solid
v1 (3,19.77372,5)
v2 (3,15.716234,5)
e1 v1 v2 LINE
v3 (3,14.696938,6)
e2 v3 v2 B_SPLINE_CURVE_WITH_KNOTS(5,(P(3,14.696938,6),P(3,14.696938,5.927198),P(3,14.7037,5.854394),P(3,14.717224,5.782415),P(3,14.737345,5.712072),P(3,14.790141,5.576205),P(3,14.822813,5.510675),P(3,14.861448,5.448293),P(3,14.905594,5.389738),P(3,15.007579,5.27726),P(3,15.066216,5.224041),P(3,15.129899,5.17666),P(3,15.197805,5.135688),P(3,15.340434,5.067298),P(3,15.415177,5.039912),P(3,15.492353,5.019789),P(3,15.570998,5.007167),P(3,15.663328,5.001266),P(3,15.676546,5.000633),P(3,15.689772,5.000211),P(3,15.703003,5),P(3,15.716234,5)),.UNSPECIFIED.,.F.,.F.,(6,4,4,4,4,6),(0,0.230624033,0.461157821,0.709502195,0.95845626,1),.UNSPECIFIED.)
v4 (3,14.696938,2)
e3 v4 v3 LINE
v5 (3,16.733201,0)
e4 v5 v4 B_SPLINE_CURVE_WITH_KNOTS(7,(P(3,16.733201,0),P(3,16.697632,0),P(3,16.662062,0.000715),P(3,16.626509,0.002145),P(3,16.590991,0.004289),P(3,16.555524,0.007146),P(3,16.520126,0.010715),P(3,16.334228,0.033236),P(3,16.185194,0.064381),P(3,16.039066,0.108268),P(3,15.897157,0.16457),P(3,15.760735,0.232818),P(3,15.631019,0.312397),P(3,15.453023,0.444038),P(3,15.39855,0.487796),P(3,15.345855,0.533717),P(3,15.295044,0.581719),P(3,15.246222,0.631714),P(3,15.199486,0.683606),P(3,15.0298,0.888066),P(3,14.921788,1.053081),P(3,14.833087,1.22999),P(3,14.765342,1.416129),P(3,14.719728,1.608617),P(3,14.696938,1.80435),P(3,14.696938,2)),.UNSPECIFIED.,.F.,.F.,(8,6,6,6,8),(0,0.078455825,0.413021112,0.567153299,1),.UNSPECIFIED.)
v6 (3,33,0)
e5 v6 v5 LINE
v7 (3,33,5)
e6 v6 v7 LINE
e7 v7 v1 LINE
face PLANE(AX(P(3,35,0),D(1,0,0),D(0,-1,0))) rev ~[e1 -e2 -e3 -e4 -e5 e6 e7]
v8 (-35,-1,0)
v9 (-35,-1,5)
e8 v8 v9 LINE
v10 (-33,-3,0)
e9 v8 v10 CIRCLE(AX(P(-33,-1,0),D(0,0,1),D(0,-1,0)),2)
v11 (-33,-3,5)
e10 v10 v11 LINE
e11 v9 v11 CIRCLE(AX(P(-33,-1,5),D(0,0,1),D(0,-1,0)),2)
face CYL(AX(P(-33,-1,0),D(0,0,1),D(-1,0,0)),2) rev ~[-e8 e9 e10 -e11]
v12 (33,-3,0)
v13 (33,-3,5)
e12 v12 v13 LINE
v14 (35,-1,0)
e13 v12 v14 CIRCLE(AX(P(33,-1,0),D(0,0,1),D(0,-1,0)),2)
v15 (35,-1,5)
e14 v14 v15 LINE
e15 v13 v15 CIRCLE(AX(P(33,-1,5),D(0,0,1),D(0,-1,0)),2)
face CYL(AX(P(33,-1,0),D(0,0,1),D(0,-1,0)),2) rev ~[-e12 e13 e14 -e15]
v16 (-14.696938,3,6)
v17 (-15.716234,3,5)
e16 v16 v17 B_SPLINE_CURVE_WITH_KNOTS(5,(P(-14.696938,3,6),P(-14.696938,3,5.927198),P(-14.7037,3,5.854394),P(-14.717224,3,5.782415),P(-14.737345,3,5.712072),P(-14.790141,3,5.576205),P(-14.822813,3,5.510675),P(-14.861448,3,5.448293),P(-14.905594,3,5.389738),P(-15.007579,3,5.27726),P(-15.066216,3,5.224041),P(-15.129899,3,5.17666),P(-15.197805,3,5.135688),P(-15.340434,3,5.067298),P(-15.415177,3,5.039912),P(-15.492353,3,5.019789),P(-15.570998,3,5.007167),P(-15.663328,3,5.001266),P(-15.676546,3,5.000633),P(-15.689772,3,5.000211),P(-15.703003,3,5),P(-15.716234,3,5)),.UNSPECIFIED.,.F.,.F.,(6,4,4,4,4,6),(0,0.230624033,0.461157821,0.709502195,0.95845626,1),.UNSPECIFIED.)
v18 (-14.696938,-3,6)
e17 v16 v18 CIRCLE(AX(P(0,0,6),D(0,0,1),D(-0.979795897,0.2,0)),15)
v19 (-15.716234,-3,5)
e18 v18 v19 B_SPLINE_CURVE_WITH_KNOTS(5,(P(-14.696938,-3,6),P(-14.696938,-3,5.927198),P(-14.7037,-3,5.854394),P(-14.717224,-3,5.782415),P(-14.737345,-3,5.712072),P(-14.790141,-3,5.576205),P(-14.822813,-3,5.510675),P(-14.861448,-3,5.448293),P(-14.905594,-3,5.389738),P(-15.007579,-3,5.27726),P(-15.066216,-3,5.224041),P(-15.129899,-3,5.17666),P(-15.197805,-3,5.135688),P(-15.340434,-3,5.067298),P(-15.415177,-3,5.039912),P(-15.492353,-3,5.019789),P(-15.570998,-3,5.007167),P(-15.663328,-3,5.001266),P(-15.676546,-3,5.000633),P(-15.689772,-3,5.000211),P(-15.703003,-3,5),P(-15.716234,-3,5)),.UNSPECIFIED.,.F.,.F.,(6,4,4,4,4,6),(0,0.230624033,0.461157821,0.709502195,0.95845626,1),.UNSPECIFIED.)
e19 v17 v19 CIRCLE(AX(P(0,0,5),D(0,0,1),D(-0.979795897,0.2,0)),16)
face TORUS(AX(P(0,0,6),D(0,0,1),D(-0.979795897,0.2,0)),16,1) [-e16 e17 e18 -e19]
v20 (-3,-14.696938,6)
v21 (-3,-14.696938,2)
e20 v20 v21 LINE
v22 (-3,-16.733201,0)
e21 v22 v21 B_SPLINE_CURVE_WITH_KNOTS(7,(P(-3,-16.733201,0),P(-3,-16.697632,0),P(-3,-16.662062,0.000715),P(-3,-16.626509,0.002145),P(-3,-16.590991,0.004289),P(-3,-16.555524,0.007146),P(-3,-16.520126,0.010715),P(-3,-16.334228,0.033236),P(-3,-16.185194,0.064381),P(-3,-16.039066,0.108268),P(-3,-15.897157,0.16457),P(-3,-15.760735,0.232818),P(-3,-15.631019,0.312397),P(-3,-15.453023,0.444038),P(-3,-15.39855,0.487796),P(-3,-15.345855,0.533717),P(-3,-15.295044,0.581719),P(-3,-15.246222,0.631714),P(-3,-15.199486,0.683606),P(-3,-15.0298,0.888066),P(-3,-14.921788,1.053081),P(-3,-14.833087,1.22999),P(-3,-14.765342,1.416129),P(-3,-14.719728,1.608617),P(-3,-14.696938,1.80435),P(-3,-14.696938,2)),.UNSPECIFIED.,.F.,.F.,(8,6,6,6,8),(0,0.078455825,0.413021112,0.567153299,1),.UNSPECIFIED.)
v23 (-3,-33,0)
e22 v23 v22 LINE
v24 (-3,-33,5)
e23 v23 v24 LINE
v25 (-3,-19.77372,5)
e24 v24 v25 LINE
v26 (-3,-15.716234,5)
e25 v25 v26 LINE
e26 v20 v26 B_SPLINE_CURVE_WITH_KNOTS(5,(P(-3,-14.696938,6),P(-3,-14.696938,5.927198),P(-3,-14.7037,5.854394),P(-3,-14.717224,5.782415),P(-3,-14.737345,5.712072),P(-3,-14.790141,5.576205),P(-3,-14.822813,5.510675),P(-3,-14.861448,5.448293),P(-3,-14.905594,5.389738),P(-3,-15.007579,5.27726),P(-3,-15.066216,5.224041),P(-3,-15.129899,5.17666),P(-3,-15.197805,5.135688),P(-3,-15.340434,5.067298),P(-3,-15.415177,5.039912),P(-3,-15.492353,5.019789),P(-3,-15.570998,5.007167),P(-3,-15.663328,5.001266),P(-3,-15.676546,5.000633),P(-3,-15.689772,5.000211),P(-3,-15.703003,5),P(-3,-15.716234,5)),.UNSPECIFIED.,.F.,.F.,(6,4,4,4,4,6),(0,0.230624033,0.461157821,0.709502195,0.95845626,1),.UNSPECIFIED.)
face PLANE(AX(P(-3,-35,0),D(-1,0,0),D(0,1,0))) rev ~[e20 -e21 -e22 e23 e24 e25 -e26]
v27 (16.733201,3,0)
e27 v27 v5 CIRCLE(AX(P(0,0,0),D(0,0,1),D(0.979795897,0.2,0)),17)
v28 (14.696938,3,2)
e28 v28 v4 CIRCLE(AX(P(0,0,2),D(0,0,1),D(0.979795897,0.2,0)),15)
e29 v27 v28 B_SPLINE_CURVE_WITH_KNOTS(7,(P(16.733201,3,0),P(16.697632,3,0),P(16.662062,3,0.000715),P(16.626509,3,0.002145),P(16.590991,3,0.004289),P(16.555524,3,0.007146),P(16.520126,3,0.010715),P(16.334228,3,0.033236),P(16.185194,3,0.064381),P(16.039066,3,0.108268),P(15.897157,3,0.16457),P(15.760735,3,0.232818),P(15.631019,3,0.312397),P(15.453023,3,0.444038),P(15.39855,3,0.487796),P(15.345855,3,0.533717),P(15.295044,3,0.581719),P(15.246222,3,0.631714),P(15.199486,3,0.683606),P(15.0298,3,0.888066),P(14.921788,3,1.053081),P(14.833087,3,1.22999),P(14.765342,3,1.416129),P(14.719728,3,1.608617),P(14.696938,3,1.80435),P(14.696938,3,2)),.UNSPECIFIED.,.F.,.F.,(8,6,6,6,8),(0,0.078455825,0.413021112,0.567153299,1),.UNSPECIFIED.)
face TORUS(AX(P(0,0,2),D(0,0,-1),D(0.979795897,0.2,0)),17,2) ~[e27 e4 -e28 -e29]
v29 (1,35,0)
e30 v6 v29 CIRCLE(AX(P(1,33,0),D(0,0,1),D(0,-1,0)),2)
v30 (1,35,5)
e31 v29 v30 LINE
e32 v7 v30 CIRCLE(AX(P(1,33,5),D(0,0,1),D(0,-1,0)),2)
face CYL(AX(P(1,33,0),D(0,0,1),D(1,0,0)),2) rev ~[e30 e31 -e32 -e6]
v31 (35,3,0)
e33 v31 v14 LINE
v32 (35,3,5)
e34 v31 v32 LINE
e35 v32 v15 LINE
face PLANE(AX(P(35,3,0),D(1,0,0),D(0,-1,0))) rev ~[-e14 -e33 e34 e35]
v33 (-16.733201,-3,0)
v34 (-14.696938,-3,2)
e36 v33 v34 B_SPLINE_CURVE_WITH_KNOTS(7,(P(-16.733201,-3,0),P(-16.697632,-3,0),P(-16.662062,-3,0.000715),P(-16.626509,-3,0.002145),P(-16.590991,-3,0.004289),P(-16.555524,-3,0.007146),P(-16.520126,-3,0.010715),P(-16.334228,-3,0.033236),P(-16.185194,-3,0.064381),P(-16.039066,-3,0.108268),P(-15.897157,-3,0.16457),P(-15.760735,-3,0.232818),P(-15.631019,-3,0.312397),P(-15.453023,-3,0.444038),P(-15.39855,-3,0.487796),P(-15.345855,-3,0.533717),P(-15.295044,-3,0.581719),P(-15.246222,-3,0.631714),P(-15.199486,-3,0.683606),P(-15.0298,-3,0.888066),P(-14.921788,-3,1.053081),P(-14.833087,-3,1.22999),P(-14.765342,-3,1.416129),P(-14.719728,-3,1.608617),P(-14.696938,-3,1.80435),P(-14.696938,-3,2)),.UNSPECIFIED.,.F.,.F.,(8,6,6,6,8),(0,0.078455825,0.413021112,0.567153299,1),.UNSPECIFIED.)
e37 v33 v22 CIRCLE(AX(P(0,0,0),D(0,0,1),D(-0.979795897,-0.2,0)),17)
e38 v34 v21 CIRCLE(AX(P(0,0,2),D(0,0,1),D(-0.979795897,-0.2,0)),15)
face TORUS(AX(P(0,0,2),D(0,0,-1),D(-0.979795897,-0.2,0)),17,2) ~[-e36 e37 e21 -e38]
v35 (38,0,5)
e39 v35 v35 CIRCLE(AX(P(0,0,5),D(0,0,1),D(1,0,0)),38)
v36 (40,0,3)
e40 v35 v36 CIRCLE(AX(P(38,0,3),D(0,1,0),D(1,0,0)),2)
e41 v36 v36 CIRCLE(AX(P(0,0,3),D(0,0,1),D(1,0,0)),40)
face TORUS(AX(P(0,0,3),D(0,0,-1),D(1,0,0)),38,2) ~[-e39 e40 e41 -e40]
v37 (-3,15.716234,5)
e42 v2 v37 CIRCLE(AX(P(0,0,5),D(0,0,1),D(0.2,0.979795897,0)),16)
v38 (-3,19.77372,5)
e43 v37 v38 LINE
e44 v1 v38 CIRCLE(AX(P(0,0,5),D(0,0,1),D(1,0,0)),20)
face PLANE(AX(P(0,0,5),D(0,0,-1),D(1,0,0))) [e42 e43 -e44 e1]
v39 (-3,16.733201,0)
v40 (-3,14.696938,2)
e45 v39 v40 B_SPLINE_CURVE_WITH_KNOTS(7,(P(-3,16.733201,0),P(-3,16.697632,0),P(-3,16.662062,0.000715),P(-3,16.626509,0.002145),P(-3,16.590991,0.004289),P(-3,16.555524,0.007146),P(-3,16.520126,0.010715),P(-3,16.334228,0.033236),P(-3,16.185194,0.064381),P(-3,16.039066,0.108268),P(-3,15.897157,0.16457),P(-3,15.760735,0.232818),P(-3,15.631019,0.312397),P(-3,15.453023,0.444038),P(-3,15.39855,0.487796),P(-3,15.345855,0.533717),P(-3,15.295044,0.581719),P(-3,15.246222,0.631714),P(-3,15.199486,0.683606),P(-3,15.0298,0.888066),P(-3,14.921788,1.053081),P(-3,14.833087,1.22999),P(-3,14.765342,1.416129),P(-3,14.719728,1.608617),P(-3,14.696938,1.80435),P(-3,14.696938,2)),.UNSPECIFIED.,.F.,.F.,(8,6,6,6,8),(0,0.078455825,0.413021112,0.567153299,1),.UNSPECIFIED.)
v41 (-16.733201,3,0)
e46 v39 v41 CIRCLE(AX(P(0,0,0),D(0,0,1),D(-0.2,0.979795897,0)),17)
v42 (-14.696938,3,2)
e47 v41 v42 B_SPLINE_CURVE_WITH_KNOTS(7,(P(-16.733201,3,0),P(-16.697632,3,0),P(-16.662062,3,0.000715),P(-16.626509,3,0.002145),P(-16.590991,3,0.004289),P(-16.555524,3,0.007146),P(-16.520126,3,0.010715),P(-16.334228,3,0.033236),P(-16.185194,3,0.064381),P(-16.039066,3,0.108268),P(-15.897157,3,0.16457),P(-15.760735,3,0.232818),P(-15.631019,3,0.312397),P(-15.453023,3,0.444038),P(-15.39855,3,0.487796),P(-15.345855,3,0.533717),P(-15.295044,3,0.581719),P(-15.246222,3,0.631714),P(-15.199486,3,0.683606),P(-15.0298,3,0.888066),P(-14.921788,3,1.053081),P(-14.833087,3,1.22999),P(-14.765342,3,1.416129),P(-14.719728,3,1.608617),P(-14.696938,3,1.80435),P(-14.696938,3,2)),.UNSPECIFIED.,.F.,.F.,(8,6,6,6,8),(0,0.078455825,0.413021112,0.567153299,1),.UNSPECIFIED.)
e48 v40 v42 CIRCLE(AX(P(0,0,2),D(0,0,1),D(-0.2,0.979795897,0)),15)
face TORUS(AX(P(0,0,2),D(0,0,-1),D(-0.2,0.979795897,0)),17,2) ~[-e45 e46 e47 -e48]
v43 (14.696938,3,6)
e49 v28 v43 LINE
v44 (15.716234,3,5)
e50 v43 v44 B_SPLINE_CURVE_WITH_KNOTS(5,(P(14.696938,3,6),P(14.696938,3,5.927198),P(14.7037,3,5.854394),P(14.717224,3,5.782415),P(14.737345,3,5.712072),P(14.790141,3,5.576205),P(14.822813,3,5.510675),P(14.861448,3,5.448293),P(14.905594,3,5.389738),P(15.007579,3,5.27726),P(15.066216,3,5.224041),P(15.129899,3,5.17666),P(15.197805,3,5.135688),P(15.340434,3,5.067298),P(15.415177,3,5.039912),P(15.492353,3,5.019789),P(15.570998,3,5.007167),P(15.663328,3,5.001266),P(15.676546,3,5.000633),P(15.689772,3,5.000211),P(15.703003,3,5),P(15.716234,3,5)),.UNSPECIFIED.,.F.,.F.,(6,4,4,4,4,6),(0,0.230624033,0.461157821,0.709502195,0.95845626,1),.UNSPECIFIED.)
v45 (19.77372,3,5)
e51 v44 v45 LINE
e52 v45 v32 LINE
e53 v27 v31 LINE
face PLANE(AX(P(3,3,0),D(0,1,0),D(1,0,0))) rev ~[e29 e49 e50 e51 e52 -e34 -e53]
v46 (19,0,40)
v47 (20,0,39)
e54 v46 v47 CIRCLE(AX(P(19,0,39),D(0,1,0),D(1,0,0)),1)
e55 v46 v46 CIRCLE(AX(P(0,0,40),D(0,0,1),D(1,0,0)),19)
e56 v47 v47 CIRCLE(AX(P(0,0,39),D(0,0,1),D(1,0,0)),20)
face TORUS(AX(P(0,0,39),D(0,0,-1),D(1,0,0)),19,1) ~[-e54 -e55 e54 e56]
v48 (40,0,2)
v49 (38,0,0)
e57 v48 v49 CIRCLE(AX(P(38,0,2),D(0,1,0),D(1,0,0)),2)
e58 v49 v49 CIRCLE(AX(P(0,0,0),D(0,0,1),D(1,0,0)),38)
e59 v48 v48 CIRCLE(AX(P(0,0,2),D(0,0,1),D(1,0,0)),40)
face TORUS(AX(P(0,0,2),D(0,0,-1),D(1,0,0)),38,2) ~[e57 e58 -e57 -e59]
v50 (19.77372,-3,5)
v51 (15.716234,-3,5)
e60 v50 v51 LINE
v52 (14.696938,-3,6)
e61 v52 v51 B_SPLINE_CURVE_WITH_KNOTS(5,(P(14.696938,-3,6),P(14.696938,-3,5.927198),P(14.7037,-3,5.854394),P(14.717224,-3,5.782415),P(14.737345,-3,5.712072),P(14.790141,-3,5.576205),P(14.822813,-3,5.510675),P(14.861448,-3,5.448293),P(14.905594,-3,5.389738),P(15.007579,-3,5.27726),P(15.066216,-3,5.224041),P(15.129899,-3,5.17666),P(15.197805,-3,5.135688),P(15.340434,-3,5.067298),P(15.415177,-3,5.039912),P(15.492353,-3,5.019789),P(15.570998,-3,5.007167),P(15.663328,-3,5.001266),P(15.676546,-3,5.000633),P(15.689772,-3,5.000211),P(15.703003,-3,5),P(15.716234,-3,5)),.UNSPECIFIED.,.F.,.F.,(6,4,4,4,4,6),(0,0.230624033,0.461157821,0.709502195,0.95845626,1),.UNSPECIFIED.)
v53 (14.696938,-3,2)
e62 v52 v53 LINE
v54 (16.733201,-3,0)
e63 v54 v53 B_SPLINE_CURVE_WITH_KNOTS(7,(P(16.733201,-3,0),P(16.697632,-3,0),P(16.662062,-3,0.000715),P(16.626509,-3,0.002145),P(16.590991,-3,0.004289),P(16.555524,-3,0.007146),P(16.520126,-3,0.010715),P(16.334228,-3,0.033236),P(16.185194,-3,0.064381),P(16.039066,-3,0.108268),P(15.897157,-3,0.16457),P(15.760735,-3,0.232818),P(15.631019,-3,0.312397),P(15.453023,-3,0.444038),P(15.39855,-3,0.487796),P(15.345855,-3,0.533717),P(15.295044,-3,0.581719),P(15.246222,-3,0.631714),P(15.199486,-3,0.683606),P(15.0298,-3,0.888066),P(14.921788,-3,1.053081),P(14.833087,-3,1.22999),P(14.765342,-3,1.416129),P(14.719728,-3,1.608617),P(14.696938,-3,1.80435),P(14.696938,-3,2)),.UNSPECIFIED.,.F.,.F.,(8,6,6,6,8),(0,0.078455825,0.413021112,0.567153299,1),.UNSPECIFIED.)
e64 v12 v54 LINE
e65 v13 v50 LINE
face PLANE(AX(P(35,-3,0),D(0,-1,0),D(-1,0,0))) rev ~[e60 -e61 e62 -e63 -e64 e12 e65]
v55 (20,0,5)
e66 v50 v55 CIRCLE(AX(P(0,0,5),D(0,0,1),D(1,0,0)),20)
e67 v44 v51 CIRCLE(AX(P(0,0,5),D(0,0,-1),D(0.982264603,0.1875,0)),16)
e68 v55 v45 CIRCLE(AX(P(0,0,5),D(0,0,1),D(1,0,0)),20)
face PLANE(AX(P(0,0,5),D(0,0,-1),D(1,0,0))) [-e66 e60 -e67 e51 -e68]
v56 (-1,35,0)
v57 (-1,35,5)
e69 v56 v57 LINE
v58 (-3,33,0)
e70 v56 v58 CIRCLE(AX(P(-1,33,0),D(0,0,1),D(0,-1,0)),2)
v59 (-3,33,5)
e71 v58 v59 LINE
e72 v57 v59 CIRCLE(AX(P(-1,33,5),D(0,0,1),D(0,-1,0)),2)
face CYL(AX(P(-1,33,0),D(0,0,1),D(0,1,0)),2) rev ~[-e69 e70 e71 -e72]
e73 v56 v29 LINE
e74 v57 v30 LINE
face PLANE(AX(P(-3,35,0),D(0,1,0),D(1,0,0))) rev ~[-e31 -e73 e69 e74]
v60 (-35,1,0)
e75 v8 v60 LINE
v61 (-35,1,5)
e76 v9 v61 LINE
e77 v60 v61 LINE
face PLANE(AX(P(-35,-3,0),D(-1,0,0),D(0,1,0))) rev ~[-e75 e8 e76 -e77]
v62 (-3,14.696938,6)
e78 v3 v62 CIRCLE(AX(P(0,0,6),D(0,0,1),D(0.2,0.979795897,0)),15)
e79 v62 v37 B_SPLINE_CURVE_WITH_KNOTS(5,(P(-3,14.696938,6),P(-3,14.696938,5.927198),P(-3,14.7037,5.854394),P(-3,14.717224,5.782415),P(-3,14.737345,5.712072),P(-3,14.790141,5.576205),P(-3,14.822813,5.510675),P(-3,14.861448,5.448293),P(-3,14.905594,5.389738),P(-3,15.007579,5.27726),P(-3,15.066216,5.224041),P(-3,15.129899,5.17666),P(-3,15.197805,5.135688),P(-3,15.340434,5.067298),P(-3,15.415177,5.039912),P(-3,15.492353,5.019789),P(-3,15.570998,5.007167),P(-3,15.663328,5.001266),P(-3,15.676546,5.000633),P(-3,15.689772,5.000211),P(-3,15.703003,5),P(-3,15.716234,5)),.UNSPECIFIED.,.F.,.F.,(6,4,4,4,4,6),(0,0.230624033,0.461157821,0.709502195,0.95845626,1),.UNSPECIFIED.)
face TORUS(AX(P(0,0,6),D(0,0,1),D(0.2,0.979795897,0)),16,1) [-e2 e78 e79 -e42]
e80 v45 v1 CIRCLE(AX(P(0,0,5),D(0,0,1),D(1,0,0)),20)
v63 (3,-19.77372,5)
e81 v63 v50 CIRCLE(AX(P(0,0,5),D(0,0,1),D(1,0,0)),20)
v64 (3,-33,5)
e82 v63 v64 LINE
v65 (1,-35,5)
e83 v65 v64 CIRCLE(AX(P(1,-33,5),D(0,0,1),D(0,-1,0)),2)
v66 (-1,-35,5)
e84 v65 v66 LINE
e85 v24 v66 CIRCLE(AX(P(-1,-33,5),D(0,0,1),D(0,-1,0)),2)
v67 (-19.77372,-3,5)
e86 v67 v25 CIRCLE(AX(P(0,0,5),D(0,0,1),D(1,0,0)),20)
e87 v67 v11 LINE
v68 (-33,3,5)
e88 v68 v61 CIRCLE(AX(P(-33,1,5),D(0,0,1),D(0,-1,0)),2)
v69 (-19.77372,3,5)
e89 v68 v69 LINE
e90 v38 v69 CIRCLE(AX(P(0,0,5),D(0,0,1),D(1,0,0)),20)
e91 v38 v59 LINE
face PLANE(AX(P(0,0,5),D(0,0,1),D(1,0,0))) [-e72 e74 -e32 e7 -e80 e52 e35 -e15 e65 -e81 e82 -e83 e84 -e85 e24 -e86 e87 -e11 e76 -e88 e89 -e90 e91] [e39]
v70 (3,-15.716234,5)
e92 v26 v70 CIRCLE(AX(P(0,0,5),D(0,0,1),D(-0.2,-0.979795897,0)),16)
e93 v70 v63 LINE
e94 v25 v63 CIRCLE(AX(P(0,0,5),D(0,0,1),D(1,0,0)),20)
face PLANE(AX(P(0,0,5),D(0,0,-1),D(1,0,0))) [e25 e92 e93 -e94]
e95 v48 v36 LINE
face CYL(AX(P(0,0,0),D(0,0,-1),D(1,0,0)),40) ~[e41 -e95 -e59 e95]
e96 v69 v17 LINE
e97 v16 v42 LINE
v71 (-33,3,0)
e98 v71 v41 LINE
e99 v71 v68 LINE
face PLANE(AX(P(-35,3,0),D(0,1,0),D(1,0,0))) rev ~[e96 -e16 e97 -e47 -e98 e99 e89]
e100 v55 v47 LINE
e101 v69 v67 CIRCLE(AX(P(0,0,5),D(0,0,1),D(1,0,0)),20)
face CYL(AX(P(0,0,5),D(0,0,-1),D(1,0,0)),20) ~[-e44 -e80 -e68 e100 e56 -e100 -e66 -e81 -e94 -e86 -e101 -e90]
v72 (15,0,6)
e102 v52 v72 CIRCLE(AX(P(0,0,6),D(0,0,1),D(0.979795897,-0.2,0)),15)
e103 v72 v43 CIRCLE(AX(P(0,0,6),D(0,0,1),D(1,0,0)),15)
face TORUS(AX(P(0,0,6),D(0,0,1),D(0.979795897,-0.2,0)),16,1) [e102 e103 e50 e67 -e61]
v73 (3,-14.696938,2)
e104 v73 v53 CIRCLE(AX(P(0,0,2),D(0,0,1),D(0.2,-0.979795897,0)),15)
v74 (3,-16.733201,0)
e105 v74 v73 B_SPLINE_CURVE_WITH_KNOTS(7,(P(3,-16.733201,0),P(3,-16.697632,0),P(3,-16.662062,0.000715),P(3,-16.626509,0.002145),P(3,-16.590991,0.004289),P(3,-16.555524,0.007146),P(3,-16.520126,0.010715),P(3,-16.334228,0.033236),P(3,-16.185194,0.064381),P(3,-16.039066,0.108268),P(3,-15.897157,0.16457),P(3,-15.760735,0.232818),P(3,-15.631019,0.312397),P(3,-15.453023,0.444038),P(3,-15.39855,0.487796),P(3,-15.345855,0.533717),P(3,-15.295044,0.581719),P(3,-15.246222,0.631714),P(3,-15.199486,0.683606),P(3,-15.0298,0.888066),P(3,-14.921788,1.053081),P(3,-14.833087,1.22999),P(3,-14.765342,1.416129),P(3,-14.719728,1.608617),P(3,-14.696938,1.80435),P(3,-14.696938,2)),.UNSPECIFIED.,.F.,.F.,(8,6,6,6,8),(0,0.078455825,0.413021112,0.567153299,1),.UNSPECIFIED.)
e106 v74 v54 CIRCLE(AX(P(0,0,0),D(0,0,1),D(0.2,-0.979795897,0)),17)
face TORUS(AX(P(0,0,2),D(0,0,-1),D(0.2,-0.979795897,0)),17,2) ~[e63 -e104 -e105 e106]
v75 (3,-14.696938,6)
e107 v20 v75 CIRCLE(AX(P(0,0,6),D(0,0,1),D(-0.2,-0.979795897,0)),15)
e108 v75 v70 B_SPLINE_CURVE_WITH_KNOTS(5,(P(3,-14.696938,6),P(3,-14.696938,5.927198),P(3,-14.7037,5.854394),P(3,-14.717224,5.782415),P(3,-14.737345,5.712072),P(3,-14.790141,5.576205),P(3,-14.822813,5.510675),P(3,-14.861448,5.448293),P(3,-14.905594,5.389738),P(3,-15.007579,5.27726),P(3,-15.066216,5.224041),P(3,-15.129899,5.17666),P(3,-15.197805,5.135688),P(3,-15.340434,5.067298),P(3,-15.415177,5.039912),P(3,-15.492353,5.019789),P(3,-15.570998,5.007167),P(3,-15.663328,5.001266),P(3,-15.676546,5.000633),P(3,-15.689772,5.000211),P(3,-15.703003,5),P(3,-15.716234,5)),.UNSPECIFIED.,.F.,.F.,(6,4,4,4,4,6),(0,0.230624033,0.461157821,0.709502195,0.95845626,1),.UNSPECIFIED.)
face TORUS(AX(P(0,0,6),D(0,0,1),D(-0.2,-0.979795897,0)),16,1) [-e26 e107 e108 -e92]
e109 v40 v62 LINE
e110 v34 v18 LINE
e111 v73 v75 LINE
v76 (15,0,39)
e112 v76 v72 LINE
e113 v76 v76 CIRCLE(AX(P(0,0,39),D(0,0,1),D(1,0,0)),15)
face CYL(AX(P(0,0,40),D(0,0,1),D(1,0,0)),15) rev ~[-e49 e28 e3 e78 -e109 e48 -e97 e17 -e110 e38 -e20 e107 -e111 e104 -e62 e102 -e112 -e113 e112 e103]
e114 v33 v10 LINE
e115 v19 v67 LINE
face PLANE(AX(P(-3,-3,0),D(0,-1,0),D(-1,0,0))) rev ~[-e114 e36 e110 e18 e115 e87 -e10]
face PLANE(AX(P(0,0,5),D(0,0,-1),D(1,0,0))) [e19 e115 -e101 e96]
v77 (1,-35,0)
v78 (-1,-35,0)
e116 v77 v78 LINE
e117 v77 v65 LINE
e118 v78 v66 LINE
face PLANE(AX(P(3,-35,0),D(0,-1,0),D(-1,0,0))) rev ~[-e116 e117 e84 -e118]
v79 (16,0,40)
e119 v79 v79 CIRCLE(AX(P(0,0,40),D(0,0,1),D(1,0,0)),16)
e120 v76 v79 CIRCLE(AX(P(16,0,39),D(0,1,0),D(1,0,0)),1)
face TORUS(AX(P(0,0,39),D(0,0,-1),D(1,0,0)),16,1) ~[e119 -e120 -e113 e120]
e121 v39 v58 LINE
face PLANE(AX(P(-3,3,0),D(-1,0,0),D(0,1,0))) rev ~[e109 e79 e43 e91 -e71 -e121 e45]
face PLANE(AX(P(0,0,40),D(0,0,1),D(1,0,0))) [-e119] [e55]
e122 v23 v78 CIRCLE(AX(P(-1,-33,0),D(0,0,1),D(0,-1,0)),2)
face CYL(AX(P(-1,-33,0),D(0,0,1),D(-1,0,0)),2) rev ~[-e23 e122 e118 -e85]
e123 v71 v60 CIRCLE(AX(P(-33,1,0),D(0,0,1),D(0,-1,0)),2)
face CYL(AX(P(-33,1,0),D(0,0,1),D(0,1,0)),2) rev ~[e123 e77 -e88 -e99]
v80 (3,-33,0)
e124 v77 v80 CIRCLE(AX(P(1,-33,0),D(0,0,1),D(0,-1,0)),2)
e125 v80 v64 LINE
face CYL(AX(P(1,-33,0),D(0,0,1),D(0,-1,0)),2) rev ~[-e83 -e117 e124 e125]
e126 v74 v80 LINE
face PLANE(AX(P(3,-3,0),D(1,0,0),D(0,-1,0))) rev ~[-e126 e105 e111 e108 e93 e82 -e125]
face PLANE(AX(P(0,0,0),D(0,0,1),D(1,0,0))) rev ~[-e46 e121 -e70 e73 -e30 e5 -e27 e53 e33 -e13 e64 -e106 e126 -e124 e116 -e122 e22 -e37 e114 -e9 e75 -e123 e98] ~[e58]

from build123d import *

# Parameters (mm, degrees)
SKETCH_R        = 40
PAD_DEPTH       = 5
SKETCH001_R     = 20
PAD001_DEPTH    = 35
SKETCH002_R     = 15
POCKET_DEPTH    = 40.001
POCKET001_DEPTH = 5
FILLET_R        = 2
FILLET001_R     = 2
FILLET002_R     = 1
FILLET003_R     = 2


with BuildPart() as part:
    # Sketch → Pad (new body)
    with BuildSketch(Plane.XY):
        Circle(SKETCH_R)
    extrude(amount=PAD_DEPTH)

    # Sketch001 (on Face3 of Pad) → Pad001 (join)
    with BuildSketch(Plane.XY.offset(5)):
        Circle(SKETCH001_R)
    extrude(amount=PAD001_DEPTH)

    # Sketch002 (on Face5 of Pad001) → Pocket (cut, through all)
    with BuildSketch(Plane.XY.offset(40)):
        Circle(SKETCH002_R)
    extrude(amount=-POCKET_DEPTH, mode=Mode.SUBTRACT)

    # Sketch003 (on Face2 of Pocket) → Pocket001 (cut)
    with BuildSketch(Plane(origin=(0, 0, 0), x_dir=(1, 0, 0), z_dir=(0, 0, -1))):
        Polygon((-3, 35), (-3, 3), (-35, 3), (-35, -3), (-3, -3), (-3, -35), (3, -35), (3, -3), (35, -3), (35, 3), (3, 3), (3, 35), align=None)
    extrude(amount=-POCKET001_DEPTH, mode=Mode.SUBTRACT)

    # Fillet
    fillet_edges = [part.edges().sort_by_distance(p)[0] for p in [
        (-3, -35, 2.5),
        (3, -35, 2.5),
        (35, -3, 2.5),
        (-35, -3, 2.5),
        (-35, 3, 2.5),
        (-3, 35, 2.5),
        (3, 35, 2.5),
    ]]
    fillet(fillet_edges, radius=FILLET_R)

    # Fillet001
    fillet001_edges = [part.edges().sort_by_distance(p)[0] for p in [
        (10.606602, -10.606602, 0),
        (10.606602, 10.606602, 0),
        (-10.606602, 10.606602, 0),
        (-10.606602, -10.606602, 0),
    ]]
    fillet(fillet001_edges, radius=FILLET001_R)

    # Fillet002
    fillet002_edges = [part.edges().sort_by_distance(p)[0] for p in [
        (-20, 0, 40),
        (-15, 0, 40),
        (0, -15, 5),
        (14.924042, -1.507634, 5),
        (0, 15, 5),
        (-15, 0, 5),
    ]]
    fillet(fillet002_edges, radius=FILLET002_R)

    # Fillet003
    fillet003_edges = [part.edges().sort_by_distance(p)[0] for p in [
        (-40, 0, 5),
        (-40, 0, 0),
    ]]
    fillet(fillet003_edges, radius=FILLET003_R)


solid = part.part
